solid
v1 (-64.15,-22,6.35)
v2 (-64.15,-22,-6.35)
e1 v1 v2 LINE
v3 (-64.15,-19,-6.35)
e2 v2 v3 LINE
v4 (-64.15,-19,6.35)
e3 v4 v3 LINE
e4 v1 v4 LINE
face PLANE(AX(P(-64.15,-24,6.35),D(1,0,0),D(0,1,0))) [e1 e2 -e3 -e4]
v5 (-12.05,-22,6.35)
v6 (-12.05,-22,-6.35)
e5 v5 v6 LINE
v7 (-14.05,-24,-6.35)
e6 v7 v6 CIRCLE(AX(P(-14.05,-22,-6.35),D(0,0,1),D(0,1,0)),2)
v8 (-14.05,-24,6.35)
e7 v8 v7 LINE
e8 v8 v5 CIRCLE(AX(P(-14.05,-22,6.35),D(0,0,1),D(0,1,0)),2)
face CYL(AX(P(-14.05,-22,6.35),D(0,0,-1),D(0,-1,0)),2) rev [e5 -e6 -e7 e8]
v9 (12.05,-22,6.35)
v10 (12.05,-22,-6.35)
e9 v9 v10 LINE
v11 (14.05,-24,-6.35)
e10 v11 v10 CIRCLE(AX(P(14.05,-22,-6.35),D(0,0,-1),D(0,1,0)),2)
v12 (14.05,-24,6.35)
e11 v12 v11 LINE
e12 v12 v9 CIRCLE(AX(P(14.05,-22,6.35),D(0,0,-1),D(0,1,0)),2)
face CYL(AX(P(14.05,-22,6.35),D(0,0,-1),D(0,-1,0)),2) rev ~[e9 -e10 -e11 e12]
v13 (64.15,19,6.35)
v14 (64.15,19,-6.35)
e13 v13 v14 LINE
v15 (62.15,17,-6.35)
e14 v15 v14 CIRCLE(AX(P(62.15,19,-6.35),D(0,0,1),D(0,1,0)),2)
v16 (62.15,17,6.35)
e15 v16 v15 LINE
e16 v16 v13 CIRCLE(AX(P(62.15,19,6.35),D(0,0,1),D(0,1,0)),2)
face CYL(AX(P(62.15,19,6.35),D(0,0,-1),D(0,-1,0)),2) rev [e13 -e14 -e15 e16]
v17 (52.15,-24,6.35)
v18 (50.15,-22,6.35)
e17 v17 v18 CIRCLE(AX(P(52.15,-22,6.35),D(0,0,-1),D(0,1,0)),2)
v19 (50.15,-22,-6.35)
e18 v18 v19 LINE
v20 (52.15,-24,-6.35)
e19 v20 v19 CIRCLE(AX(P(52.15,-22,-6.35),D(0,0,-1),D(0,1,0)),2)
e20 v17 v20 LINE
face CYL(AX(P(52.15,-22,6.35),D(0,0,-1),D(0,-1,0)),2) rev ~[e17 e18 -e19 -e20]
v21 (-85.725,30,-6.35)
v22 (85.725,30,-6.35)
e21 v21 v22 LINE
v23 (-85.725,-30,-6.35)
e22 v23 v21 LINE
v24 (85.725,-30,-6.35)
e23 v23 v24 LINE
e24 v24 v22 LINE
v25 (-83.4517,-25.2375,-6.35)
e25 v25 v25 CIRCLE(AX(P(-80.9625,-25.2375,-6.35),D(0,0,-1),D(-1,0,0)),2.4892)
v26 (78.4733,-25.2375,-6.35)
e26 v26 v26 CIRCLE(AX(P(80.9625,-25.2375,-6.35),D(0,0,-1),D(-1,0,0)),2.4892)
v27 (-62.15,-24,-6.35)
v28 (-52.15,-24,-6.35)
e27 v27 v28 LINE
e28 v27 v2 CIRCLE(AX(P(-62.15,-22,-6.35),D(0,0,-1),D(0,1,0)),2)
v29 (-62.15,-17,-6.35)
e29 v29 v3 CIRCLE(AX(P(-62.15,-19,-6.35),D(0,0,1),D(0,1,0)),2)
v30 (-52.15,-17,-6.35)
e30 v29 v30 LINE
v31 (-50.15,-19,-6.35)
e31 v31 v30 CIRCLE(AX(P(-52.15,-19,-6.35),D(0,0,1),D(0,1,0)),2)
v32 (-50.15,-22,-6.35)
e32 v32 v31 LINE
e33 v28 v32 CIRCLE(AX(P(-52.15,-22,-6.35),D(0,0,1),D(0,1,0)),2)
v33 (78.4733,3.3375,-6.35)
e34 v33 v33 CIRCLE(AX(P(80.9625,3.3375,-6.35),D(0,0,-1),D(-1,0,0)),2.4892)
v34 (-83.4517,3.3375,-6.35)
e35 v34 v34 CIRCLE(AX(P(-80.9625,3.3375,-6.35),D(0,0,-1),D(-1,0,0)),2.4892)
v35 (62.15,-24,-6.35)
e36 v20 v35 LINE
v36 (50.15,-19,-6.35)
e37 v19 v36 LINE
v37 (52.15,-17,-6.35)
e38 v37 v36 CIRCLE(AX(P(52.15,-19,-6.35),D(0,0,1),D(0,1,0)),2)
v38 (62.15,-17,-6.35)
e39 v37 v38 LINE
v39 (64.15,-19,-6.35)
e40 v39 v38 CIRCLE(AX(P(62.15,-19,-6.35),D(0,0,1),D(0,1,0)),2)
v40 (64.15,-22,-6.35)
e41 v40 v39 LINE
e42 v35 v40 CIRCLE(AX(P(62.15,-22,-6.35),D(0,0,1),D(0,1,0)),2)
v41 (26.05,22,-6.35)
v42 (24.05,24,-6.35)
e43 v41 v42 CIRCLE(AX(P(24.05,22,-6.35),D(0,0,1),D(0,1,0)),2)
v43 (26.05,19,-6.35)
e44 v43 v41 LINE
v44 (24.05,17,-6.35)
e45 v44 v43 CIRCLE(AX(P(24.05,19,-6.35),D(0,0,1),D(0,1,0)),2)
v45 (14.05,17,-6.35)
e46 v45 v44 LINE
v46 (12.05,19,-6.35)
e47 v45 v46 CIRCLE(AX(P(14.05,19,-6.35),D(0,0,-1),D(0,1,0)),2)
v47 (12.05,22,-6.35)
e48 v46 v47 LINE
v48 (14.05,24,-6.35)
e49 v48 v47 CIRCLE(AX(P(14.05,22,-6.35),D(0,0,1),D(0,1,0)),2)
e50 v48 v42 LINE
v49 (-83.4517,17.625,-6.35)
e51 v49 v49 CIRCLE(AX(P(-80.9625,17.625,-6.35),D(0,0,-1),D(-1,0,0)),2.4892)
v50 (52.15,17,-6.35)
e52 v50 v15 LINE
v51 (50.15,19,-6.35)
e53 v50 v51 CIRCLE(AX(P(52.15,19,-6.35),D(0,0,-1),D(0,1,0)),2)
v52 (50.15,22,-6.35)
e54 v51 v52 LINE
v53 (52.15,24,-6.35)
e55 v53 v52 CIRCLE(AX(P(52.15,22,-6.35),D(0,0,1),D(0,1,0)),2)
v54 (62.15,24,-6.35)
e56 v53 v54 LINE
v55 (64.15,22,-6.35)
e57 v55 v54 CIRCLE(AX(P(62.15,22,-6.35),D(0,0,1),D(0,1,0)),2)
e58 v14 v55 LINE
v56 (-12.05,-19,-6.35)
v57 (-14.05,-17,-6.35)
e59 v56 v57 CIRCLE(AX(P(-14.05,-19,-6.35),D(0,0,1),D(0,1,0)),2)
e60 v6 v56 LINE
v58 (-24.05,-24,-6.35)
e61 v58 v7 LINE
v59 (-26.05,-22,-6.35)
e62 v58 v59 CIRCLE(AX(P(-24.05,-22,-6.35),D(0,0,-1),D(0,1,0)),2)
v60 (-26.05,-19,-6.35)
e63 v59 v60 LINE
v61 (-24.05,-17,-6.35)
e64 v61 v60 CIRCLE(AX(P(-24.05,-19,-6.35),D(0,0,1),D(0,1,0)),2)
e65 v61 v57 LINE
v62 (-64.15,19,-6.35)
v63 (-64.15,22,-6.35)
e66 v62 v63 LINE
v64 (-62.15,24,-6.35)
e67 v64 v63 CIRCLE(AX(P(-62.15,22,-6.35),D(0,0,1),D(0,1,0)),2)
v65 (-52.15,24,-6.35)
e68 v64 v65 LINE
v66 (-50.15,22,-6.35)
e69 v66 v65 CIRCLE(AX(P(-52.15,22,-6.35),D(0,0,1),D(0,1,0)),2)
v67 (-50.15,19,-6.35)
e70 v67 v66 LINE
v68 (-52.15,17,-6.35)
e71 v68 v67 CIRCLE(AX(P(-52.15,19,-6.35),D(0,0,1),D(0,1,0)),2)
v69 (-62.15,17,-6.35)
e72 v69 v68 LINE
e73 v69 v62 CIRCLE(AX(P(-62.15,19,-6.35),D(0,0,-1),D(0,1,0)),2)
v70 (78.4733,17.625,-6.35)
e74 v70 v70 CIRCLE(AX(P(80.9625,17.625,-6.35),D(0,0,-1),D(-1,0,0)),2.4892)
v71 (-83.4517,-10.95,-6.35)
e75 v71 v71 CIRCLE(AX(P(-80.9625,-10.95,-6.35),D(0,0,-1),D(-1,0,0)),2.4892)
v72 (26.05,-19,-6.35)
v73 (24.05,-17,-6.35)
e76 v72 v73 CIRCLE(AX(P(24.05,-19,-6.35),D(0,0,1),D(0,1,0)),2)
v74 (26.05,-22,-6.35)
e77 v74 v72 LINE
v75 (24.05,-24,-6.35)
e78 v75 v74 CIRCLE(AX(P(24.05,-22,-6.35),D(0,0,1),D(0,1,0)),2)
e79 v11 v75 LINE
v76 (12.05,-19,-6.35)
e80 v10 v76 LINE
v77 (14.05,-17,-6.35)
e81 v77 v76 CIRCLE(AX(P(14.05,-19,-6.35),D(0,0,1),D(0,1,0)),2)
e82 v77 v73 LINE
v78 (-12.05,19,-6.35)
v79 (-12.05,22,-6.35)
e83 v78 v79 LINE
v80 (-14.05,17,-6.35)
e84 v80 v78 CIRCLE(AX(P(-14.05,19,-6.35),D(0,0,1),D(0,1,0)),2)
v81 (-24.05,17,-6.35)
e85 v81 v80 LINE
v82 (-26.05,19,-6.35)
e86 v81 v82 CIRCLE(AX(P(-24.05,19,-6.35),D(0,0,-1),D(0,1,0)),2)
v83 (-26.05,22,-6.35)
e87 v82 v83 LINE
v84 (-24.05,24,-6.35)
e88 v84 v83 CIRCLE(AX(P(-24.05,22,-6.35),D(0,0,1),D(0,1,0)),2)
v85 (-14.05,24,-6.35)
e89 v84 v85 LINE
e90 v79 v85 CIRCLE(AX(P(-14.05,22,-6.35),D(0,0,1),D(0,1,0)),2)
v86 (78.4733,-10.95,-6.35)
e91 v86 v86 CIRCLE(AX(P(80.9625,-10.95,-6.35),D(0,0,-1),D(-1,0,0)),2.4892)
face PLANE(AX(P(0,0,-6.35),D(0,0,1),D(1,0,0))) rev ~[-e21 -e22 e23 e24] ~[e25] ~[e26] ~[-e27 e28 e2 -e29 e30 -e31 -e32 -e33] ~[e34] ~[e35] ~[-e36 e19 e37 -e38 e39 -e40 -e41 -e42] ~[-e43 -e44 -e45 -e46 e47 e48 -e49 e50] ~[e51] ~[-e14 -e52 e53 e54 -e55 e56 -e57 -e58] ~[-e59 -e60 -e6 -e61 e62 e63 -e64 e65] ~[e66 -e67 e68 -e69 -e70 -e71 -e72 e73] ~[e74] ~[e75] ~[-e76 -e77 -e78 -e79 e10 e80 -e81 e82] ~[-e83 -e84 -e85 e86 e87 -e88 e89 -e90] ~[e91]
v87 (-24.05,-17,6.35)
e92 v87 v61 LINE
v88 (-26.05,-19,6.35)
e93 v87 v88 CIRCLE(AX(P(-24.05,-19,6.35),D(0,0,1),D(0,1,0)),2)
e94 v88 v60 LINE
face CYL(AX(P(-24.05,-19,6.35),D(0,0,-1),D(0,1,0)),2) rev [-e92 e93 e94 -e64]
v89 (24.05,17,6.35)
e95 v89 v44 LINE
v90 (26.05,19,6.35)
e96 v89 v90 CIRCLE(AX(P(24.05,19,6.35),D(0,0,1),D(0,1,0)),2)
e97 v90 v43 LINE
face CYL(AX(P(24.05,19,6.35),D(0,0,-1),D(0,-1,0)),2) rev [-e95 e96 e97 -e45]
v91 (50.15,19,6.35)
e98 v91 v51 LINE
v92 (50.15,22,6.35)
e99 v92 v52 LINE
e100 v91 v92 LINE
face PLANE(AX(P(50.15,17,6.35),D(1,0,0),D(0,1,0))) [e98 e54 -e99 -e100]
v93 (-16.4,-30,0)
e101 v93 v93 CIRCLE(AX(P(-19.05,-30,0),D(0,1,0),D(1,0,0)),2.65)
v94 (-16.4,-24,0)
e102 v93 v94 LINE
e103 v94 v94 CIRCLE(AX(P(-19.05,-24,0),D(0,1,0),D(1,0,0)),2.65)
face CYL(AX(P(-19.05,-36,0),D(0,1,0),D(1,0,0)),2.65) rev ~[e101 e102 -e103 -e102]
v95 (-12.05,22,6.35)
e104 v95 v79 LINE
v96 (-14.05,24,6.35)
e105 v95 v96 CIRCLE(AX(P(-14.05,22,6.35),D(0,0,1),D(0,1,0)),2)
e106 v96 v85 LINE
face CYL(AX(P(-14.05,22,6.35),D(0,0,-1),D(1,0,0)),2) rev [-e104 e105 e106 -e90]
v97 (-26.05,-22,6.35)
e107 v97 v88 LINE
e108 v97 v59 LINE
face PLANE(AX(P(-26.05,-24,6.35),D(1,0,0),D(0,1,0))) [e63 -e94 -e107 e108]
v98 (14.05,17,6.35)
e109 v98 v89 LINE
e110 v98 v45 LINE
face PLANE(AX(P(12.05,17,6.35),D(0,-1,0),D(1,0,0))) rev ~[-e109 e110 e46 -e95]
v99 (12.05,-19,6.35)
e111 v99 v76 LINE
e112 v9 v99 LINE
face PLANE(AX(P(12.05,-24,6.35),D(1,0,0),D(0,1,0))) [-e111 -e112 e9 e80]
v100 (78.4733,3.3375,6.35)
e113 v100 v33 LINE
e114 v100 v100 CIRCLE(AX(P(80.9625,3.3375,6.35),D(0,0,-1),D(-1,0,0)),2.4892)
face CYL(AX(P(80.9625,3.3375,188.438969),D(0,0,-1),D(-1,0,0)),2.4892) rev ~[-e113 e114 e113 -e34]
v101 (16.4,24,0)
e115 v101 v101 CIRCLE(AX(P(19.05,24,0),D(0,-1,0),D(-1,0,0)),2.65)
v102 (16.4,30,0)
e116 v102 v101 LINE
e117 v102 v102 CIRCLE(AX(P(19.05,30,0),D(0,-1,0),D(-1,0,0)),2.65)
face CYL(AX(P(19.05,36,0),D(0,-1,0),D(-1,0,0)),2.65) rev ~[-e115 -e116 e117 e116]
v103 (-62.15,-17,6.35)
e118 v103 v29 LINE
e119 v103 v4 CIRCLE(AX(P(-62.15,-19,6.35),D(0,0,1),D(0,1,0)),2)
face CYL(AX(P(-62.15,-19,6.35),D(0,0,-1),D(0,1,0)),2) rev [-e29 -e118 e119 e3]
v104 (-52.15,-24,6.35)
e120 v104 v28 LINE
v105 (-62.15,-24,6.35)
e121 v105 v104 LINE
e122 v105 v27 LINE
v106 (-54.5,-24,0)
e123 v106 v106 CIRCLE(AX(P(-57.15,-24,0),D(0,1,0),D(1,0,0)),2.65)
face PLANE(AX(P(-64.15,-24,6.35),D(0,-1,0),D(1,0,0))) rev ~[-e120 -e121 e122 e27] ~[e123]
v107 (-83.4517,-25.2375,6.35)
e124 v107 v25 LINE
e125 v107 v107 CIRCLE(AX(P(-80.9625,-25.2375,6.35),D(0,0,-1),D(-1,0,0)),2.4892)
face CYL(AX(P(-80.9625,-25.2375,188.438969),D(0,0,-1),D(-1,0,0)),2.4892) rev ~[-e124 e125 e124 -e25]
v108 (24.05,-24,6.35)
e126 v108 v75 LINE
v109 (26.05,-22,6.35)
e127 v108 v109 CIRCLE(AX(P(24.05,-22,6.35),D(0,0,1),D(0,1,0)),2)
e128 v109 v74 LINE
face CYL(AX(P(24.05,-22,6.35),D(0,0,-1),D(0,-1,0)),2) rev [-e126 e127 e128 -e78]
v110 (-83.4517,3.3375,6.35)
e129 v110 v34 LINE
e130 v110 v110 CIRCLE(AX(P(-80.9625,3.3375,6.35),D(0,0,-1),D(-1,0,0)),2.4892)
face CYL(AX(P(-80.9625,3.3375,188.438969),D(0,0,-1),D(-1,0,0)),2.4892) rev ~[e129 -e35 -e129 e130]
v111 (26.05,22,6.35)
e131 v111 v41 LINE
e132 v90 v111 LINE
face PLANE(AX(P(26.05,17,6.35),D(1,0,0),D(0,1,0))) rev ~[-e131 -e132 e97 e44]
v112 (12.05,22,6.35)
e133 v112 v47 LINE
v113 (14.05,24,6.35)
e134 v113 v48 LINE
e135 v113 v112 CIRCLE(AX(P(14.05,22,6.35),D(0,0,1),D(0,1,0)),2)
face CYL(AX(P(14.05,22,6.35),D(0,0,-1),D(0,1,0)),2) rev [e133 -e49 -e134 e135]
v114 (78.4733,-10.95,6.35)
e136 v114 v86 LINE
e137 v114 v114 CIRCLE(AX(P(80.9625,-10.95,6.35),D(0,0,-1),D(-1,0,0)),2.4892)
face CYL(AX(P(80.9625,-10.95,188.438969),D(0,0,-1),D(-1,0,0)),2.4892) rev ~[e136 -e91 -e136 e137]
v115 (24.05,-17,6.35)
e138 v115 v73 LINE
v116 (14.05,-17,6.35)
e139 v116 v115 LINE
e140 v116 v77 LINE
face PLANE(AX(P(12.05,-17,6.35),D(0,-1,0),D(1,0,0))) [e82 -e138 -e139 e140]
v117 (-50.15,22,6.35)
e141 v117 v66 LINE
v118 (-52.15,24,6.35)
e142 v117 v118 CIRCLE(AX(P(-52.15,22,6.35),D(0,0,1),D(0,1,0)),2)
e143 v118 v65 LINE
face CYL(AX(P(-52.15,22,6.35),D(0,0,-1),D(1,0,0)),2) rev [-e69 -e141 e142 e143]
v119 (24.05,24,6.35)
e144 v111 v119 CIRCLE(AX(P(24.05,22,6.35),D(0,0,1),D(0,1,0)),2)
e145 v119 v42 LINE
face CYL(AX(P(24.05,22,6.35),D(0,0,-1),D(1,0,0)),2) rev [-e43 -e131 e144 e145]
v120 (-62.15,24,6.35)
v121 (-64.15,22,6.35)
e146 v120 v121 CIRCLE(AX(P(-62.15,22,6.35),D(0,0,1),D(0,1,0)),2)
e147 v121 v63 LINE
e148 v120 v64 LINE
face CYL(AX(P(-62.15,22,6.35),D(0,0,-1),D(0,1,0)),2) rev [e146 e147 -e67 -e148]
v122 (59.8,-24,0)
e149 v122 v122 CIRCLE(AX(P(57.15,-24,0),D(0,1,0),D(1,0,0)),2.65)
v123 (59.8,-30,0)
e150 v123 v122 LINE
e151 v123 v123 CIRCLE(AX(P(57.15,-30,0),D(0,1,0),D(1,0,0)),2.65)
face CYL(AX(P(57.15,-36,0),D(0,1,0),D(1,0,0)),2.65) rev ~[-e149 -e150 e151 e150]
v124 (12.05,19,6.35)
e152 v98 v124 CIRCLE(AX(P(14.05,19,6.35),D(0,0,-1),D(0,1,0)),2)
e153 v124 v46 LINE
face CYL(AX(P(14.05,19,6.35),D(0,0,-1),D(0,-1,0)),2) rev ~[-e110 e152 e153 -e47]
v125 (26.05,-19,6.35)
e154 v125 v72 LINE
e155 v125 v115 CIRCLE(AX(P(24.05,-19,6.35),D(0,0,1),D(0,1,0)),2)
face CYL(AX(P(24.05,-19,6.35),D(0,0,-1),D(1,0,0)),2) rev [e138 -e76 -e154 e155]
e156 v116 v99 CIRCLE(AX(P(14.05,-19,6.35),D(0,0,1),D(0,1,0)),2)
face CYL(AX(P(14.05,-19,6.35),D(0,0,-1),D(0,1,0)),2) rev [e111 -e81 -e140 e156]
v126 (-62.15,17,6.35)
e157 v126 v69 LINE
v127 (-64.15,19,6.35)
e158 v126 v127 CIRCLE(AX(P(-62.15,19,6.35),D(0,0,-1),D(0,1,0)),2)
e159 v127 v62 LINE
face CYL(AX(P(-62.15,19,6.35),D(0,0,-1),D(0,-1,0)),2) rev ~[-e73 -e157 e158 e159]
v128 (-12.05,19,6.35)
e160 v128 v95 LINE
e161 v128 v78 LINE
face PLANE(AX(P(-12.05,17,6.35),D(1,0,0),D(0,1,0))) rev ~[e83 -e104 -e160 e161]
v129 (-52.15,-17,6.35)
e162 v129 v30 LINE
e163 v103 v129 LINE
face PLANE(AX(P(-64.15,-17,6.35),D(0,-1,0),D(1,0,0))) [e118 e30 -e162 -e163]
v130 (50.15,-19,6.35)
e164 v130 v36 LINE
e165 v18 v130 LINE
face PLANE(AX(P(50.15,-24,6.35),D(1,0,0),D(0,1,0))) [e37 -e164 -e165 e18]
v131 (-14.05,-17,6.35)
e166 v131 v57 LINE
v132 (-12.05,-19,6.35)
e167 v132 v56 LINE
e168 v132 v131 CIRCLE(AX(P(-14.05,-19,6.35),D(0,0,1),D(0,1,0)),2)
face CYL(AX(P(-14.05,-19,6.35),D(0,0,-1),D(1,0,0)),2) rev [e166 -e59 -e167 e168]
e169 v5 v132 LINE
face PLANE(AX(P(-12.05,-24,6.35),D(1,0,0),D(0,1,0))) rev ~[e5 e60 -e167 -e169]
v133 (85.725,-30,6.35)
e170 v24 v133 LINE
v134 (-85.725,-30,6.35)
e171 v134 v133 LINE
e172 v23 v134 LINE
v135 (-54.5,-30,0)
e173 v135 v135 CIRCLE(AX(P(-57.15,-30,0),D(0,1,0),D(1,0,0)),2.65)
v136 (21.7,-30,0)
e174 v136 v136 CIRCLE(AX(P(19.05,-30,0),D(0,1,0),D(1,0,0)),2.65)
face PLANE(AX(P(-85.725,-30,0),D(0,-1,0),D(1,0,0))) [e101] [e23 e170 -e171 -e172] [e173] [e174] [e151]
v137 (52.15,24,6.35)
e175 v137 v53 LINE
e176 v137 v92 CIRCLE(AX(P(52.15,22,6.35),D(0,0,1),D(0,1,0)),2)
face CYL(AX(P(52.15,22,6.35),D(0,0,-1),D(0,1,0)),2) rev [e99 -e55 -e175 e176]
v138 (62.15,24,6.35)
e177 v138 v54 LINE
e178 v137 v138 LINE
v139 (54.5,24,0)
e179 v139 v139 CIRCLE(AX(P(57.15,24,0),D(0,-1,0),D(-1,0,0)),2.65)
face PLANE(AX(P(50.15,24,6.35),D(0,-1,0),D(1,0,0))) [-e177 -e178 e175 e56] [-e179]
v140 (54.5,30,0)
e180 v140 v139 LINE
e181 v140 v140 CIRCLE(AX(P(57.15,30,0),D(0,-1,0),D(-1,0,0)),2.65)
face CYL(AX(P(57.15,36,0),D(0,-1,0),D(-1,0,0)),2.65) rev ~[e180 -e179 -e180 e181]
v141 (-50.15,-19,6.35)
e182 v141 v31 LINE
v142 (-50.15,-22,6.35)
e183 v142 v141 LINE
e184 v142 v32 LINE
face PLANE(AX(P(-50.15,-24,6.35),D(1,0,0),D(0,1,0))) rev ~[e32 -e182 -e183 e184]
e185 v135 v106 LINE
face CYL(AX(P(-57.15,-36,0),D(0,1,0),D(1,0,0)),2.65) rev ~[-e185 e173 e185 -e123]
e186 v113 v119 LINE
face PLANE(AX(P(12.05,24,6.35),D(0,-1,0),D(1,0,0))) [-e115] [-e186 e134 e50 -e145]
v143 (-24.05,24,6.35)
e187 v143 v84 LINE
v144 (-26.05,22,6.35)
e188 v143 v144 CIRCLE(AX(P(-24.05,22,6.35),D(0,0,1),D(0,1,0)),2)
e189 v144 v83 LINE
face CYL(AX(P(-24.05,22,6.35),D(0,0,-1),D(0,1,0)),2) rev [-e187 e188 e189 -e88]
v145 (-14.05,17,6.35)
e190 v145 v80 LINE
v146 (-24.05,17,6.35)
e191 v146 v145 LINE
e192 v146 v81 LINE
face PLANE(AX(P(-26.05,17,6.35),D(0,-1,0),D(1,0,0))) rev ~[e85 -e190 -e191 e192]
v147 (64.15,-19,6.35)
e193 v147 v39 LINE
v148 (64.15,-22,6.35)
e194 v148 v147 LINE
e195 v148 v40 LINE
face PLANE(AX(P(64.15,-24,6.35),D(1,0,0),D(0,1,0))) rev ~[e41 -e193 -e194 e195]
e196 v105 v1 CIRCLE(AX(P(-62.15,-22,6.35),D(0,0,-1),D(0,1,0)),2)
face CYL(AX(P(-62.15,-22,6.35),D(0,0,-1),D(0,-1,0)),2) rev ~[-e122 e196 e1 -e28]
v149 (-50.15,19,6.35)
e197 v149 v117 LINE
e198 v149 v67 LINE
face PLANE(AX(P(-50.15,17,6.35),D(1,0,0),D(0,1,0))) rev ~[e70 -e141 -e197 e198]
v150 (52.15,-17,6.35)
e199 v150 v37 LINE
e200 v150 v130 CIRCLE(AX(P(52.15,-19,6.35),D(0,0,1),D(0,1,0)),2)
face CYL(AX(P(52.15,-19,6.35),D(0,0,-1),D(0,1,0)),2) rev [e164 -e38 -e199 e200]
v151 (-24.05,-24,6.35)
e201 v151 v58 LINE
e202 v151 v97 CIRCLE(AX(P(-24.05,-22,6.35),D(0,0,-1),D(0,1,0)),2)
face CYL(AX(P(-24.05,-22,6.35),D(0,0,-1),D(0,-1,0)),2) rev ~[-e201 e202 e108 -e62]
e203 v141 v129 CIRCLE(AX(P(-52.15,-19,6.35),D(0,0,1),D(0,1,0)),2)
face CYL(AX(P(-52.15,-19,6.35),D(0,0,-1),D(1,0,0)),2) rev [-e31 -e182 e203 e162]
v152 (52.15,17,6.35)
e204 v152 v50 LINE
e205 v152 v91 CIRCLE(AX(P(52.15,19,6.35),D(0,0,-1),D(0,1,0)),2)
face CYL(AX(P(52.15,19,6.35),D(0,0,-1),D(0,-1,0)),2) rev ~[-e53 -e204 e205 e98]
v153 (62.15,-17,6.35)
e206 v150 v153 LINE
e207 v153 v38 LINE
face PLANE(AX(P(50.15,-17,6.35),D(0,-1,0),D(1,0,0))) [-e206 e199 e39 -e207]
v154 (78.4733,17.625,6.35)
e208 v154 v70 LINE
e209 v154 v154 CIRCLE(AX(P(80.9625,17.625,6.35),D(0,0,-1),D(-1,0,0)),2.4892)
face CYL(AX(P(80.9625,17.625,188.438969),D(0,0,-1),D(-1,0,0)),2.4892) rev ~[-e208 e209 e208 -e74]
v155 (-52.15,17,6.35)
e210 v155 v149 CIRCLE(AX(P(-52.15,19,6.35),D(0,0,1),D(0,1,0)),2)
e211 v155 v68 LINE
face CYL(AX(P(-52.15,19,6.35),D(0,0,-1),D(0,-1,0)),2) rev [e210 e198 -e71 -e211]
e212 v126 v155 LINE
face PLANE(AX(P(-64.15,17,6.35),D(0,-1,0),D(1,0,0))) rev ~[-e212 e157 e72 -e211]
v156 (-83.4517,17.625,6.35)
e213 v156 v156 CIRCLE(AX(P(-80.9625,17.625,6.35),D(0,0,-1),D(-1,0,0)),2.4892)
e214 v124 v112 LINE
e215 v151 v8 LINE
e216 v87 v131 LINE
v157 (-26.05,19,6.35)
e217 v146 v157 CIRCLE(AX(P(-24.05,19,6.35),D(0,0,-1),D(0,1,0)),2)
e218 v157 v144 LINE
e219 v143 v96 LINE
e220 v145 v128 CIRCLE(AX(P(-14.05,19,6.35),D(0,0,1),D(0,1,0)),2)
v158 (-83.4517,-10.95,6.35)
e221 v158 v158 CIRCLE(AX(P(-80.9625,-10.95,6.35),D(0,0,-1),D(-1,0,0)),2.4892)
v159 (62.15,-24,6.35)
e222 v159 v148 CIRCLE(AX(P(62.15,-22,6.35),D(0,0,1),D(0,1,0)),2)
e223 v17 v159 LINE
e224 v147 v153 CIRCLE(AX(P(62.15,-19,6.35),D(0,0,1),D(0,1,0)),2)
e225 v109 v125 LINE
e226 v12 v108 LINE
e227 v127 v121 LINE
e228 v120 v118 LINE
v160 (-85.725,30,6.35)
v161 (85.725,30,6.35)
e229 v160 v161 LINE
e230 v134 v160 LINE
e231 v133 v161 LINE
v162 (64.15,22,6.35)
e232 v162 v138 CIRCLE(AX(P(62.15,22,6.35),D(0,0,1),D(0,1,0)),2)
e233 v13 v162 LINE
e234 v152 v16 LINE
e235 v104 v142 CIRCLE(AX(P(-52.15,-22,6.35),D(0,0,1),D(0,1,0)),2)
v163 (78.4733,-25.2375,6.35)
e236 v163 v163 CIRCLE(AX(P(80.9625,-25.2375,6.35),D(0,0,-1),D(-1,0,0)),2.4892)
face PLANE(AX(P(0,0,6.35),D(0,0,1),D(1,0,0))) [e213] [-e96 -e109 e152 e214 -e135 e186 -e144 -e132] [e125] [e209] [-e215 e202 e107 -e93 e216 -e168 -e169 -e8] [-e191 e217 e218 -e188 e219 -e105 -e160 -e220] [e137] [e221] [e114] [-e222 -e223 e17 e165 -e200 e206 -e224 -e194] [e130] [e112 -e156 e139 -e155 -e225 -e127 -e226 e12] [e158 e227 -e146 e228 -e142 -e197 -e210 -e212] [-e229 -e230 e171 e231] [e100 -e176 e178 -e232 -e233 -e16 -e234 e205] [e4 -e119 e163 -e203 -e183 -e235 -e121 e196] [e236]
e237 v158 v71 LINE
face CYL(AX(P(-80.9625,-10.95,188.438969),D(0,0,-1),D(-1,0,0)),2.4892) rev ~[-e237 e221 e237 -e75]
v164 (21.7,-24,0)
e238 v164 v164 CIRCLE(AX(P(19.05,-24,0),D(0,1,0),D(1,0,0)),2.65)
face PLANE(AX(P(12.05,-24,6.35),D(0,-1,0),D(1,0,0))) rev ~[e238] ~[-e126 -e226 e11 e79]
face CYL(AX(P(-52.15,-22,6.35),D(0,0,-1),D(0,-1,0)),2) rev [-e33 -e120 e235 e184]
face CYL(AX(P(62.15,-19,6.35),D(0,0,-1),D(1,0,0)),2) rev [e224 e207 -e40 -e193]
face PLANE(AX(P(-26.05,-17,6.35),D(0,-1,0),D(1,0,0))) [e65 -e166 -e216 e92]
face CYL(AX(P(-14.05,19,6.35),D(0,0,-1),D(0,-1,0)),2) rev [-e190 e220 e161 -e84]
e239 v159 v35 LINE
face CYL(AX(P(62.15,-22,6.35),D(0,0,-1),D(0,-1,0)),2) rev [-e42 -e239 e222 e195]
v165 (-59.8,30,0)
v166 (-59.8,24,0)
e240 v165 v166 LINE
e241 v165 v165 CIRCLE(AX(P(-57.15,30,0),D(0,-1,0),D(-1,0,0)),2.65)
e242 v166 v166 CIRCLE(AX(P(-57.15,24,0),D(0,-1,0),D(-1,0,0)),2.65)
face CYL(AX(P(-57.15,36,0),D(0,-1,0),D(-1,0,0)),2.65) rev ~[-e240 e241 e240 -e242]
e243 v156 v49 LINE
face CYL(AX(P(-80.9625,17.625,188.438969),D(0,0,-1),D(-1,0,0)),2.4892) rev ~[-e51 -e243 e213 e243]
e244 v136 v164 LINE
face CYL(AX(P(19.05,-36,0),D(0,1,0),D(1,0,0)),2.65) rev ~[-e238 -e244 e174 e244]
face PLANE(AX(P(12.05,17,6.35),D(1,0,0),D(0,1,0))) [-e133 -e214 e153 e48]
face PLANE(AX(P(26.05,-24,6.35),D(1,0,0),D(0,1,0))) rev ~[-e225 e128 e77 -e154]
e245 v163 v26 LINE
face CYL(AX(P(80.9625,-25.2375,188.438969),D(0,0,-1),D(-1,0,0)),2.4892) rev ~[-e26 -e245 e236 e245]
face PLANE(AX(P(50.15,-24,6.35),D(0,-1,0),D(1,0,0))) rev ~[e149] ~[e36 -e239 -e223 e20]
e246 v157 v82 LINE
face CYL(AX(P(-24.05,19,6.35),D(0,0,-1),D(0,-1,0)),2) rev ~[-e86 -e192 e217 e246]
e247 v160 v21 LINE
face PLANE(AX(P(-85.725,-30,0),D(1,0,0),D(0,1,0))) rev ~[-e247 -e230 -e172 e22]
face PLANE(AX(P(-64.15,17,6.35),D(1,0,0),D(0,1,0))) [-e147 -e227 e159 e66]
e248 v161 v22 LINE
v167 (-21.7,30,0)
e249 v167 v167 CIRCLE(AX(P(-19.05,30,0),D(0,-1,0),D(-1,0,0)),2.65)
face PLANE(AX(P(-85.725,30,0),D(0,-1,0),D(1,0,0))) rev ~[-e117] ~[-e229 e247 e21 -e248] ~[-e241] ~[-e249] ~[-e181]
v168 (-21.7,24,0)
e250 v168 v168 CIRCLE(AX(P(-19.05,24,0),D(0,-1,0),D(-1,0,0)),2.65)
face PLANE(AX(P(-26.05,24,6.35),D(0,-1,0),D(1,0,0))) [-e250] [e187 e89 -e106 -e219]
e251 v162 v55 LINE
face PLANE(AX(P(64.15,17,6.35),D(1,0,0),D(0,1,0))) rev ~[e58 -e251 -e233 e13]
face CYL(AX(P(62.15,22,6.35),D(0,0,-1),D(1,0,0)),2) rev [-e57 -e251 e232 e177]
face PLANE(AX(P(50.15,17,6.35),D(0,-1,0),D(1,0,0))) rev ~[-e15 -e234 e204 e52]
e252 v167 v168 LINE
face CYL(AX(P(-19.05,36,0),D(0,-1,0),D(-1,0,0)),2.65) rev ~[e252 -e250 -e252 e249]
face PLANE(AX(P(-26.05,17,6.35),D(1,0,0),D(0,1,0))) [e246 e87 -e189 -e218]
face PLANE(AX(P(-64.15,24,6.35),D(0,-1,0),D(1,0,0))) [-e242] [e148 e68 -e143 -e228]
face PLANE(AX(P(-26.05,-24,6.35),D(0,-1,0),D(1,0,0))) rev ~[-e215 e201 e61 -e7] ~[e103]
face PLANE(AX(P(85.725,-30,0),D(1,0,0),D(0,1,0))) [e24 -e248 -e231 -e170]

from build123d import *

# Parameters (mm, degrees)
SKETCH1_W                    = 171.45
SKETCH1_H                    = 60
BOSS_EXTRUDE1_DEPTH          = 6.35
F_10_CLEARANCE_HOLE1_D       = 4.9784
SKETCH12_W                   = 14
SKETCH12_H                   = 7
CUT_EXTRUDE4_DEPTH           = 92.706409945
FILLET2_R                    = 2
FILLET2_OF_SKETCH_PATTERN1_R = 2
M5_CLEARANCE_HOLE2_D         = 5.3
M5_CLEARANCE_HOLE2_DEPTH     = 6
M5_CLEARANCE_HOLE3_D         = 5.3
M5_CLEARANCE_HOLE3_DEPTH     = 6


with BuildPart() as part:
    # Sketch1 → Boss-Extrude1 (new, symmetric)
    with BuildSketch(Plane.XY):
        Rectangle(SKETCH1_W, SKETCH1_H)
    extrude(amount=BOSS_EXTRUDE1_DEPTH, both=True)

    # #10 Clearance Hole1 (through all)
    with Locations(Plane.XY.offset(6.35)):
        with Locations((-80.9625, 17.625), (-80.9625, 3.3375), (-80.9625, -10.95), (-80.9625, -25.2375), (80.9625, 17.625), (80.9625, 3.3375), (80.9625, -10.95), (80.9625, -25.2375)):
            Hole(F_10_CLEARANCE_HOLE1_D / 2)

    # Sketch12 → Cut-Extrude4 (cut, through all)
    with BuildSketch(Plane.XY.offset(6.35)):
        with Locations((-57.15, 20.5)):
            Rectangle(SKETCH12_W, SKETCH12_H)
    cut_extrude4 = extrude(amount=-CUT_EXTRUDE4_DEPTH, mode=Mode.SUBTRACT)

    # Fillet2
    fillet2_edges = [part.edges().sort_by_distance(p)[0] for p in [
        (-50.15, 24, 0),
        (-50.15, 17, 0),
        (-64.15, 17, 0),
        (-64.15, 24, 0),
    ]]
    fillet(fillet2_edges, radius=FILLET2_R)

    # Sketch-Pattern1: Cut-Extrude4 at 7 more places
    with Locations((38.1, 0, 0), (76.2, 0, 0), (114.3, 0, 0), (114.3, -41, 0), (76.2, -41, 0), (0, -41, 0), (38.1, -41, 0)):
        add(cut_extrude4, mode=Mode.SUBTRACT)

    # Fillet2 of Sketch-Pattern1
    fillet2_of_sketch_pattern1_edges = [part.edges().sort_by_distance(p)[0] for p in [
        (-12.05, 24, 0),
        (-12.05, 17, 0),
        (-26.05, 17, 0),
        (-26.05, 24, 0),
        (26.05, 24, 0),
        (26.05, 17, 0),
        (12.05, 17, 0),
        (12.05, 24, 0),
        (64.15, 24, 0),
        (64.15, 17, 0),
        (50.15, 17, 0),
        (50.15, 24, 0),
        (64.15, -17, 0),
        (64.15, -24, 0),
        (50.15, -24, 0),
        (50.15, -17, 0),
        (26.05, -17, 0),
        (26.05, -24, 0),
        (12.05, -24, 0),
        (12.05, -17, 0),
        (-50.15, -17, 0),
        (-50.15, -24, 0),
        (-64.15, -24, 0),
        (-64.15, -17, 0),
        (-12.05, -17, 0),
        (-12.05, -24, 0),
        (-26.05, -24, 0),
        (-26.05, -17, 0),
    ]]
    fillet(fillet2_of_sketch_pattern1_edges, radius=FILLET2_OF_SKETCH_PATTERN1_R)

    # M5 Clearance Hole2
    with Locations(Plane(origin=(0, 30, 0), x_dir=(1, 0, 0), z_dir=(0, 1, 0))):
        with Locations((-57.15, 0), (-19.05, 0), (19.05, 0), (57.15, 0)):
            Hole(M5_CLEARANCE_HOLE2_D / 2, depth=M5_CLEARANCE_HOLE2_DEPTH)

    # M5 Clearance Hole3
    with Locations(Plane(origin=(0, -30, 0), x_dir=(-1, 0, 0), z_dir=(0, -1, 0))):
        with Locations((-57.15, 0), (-19.05, 0), (19.05, 0), (57.15, 0)):
            Hole(M5_CLEARANCE_HOLE3_D / 2, depth=M5_CLEARANCE_HOLE3_DEPTH)


solid = part.part
